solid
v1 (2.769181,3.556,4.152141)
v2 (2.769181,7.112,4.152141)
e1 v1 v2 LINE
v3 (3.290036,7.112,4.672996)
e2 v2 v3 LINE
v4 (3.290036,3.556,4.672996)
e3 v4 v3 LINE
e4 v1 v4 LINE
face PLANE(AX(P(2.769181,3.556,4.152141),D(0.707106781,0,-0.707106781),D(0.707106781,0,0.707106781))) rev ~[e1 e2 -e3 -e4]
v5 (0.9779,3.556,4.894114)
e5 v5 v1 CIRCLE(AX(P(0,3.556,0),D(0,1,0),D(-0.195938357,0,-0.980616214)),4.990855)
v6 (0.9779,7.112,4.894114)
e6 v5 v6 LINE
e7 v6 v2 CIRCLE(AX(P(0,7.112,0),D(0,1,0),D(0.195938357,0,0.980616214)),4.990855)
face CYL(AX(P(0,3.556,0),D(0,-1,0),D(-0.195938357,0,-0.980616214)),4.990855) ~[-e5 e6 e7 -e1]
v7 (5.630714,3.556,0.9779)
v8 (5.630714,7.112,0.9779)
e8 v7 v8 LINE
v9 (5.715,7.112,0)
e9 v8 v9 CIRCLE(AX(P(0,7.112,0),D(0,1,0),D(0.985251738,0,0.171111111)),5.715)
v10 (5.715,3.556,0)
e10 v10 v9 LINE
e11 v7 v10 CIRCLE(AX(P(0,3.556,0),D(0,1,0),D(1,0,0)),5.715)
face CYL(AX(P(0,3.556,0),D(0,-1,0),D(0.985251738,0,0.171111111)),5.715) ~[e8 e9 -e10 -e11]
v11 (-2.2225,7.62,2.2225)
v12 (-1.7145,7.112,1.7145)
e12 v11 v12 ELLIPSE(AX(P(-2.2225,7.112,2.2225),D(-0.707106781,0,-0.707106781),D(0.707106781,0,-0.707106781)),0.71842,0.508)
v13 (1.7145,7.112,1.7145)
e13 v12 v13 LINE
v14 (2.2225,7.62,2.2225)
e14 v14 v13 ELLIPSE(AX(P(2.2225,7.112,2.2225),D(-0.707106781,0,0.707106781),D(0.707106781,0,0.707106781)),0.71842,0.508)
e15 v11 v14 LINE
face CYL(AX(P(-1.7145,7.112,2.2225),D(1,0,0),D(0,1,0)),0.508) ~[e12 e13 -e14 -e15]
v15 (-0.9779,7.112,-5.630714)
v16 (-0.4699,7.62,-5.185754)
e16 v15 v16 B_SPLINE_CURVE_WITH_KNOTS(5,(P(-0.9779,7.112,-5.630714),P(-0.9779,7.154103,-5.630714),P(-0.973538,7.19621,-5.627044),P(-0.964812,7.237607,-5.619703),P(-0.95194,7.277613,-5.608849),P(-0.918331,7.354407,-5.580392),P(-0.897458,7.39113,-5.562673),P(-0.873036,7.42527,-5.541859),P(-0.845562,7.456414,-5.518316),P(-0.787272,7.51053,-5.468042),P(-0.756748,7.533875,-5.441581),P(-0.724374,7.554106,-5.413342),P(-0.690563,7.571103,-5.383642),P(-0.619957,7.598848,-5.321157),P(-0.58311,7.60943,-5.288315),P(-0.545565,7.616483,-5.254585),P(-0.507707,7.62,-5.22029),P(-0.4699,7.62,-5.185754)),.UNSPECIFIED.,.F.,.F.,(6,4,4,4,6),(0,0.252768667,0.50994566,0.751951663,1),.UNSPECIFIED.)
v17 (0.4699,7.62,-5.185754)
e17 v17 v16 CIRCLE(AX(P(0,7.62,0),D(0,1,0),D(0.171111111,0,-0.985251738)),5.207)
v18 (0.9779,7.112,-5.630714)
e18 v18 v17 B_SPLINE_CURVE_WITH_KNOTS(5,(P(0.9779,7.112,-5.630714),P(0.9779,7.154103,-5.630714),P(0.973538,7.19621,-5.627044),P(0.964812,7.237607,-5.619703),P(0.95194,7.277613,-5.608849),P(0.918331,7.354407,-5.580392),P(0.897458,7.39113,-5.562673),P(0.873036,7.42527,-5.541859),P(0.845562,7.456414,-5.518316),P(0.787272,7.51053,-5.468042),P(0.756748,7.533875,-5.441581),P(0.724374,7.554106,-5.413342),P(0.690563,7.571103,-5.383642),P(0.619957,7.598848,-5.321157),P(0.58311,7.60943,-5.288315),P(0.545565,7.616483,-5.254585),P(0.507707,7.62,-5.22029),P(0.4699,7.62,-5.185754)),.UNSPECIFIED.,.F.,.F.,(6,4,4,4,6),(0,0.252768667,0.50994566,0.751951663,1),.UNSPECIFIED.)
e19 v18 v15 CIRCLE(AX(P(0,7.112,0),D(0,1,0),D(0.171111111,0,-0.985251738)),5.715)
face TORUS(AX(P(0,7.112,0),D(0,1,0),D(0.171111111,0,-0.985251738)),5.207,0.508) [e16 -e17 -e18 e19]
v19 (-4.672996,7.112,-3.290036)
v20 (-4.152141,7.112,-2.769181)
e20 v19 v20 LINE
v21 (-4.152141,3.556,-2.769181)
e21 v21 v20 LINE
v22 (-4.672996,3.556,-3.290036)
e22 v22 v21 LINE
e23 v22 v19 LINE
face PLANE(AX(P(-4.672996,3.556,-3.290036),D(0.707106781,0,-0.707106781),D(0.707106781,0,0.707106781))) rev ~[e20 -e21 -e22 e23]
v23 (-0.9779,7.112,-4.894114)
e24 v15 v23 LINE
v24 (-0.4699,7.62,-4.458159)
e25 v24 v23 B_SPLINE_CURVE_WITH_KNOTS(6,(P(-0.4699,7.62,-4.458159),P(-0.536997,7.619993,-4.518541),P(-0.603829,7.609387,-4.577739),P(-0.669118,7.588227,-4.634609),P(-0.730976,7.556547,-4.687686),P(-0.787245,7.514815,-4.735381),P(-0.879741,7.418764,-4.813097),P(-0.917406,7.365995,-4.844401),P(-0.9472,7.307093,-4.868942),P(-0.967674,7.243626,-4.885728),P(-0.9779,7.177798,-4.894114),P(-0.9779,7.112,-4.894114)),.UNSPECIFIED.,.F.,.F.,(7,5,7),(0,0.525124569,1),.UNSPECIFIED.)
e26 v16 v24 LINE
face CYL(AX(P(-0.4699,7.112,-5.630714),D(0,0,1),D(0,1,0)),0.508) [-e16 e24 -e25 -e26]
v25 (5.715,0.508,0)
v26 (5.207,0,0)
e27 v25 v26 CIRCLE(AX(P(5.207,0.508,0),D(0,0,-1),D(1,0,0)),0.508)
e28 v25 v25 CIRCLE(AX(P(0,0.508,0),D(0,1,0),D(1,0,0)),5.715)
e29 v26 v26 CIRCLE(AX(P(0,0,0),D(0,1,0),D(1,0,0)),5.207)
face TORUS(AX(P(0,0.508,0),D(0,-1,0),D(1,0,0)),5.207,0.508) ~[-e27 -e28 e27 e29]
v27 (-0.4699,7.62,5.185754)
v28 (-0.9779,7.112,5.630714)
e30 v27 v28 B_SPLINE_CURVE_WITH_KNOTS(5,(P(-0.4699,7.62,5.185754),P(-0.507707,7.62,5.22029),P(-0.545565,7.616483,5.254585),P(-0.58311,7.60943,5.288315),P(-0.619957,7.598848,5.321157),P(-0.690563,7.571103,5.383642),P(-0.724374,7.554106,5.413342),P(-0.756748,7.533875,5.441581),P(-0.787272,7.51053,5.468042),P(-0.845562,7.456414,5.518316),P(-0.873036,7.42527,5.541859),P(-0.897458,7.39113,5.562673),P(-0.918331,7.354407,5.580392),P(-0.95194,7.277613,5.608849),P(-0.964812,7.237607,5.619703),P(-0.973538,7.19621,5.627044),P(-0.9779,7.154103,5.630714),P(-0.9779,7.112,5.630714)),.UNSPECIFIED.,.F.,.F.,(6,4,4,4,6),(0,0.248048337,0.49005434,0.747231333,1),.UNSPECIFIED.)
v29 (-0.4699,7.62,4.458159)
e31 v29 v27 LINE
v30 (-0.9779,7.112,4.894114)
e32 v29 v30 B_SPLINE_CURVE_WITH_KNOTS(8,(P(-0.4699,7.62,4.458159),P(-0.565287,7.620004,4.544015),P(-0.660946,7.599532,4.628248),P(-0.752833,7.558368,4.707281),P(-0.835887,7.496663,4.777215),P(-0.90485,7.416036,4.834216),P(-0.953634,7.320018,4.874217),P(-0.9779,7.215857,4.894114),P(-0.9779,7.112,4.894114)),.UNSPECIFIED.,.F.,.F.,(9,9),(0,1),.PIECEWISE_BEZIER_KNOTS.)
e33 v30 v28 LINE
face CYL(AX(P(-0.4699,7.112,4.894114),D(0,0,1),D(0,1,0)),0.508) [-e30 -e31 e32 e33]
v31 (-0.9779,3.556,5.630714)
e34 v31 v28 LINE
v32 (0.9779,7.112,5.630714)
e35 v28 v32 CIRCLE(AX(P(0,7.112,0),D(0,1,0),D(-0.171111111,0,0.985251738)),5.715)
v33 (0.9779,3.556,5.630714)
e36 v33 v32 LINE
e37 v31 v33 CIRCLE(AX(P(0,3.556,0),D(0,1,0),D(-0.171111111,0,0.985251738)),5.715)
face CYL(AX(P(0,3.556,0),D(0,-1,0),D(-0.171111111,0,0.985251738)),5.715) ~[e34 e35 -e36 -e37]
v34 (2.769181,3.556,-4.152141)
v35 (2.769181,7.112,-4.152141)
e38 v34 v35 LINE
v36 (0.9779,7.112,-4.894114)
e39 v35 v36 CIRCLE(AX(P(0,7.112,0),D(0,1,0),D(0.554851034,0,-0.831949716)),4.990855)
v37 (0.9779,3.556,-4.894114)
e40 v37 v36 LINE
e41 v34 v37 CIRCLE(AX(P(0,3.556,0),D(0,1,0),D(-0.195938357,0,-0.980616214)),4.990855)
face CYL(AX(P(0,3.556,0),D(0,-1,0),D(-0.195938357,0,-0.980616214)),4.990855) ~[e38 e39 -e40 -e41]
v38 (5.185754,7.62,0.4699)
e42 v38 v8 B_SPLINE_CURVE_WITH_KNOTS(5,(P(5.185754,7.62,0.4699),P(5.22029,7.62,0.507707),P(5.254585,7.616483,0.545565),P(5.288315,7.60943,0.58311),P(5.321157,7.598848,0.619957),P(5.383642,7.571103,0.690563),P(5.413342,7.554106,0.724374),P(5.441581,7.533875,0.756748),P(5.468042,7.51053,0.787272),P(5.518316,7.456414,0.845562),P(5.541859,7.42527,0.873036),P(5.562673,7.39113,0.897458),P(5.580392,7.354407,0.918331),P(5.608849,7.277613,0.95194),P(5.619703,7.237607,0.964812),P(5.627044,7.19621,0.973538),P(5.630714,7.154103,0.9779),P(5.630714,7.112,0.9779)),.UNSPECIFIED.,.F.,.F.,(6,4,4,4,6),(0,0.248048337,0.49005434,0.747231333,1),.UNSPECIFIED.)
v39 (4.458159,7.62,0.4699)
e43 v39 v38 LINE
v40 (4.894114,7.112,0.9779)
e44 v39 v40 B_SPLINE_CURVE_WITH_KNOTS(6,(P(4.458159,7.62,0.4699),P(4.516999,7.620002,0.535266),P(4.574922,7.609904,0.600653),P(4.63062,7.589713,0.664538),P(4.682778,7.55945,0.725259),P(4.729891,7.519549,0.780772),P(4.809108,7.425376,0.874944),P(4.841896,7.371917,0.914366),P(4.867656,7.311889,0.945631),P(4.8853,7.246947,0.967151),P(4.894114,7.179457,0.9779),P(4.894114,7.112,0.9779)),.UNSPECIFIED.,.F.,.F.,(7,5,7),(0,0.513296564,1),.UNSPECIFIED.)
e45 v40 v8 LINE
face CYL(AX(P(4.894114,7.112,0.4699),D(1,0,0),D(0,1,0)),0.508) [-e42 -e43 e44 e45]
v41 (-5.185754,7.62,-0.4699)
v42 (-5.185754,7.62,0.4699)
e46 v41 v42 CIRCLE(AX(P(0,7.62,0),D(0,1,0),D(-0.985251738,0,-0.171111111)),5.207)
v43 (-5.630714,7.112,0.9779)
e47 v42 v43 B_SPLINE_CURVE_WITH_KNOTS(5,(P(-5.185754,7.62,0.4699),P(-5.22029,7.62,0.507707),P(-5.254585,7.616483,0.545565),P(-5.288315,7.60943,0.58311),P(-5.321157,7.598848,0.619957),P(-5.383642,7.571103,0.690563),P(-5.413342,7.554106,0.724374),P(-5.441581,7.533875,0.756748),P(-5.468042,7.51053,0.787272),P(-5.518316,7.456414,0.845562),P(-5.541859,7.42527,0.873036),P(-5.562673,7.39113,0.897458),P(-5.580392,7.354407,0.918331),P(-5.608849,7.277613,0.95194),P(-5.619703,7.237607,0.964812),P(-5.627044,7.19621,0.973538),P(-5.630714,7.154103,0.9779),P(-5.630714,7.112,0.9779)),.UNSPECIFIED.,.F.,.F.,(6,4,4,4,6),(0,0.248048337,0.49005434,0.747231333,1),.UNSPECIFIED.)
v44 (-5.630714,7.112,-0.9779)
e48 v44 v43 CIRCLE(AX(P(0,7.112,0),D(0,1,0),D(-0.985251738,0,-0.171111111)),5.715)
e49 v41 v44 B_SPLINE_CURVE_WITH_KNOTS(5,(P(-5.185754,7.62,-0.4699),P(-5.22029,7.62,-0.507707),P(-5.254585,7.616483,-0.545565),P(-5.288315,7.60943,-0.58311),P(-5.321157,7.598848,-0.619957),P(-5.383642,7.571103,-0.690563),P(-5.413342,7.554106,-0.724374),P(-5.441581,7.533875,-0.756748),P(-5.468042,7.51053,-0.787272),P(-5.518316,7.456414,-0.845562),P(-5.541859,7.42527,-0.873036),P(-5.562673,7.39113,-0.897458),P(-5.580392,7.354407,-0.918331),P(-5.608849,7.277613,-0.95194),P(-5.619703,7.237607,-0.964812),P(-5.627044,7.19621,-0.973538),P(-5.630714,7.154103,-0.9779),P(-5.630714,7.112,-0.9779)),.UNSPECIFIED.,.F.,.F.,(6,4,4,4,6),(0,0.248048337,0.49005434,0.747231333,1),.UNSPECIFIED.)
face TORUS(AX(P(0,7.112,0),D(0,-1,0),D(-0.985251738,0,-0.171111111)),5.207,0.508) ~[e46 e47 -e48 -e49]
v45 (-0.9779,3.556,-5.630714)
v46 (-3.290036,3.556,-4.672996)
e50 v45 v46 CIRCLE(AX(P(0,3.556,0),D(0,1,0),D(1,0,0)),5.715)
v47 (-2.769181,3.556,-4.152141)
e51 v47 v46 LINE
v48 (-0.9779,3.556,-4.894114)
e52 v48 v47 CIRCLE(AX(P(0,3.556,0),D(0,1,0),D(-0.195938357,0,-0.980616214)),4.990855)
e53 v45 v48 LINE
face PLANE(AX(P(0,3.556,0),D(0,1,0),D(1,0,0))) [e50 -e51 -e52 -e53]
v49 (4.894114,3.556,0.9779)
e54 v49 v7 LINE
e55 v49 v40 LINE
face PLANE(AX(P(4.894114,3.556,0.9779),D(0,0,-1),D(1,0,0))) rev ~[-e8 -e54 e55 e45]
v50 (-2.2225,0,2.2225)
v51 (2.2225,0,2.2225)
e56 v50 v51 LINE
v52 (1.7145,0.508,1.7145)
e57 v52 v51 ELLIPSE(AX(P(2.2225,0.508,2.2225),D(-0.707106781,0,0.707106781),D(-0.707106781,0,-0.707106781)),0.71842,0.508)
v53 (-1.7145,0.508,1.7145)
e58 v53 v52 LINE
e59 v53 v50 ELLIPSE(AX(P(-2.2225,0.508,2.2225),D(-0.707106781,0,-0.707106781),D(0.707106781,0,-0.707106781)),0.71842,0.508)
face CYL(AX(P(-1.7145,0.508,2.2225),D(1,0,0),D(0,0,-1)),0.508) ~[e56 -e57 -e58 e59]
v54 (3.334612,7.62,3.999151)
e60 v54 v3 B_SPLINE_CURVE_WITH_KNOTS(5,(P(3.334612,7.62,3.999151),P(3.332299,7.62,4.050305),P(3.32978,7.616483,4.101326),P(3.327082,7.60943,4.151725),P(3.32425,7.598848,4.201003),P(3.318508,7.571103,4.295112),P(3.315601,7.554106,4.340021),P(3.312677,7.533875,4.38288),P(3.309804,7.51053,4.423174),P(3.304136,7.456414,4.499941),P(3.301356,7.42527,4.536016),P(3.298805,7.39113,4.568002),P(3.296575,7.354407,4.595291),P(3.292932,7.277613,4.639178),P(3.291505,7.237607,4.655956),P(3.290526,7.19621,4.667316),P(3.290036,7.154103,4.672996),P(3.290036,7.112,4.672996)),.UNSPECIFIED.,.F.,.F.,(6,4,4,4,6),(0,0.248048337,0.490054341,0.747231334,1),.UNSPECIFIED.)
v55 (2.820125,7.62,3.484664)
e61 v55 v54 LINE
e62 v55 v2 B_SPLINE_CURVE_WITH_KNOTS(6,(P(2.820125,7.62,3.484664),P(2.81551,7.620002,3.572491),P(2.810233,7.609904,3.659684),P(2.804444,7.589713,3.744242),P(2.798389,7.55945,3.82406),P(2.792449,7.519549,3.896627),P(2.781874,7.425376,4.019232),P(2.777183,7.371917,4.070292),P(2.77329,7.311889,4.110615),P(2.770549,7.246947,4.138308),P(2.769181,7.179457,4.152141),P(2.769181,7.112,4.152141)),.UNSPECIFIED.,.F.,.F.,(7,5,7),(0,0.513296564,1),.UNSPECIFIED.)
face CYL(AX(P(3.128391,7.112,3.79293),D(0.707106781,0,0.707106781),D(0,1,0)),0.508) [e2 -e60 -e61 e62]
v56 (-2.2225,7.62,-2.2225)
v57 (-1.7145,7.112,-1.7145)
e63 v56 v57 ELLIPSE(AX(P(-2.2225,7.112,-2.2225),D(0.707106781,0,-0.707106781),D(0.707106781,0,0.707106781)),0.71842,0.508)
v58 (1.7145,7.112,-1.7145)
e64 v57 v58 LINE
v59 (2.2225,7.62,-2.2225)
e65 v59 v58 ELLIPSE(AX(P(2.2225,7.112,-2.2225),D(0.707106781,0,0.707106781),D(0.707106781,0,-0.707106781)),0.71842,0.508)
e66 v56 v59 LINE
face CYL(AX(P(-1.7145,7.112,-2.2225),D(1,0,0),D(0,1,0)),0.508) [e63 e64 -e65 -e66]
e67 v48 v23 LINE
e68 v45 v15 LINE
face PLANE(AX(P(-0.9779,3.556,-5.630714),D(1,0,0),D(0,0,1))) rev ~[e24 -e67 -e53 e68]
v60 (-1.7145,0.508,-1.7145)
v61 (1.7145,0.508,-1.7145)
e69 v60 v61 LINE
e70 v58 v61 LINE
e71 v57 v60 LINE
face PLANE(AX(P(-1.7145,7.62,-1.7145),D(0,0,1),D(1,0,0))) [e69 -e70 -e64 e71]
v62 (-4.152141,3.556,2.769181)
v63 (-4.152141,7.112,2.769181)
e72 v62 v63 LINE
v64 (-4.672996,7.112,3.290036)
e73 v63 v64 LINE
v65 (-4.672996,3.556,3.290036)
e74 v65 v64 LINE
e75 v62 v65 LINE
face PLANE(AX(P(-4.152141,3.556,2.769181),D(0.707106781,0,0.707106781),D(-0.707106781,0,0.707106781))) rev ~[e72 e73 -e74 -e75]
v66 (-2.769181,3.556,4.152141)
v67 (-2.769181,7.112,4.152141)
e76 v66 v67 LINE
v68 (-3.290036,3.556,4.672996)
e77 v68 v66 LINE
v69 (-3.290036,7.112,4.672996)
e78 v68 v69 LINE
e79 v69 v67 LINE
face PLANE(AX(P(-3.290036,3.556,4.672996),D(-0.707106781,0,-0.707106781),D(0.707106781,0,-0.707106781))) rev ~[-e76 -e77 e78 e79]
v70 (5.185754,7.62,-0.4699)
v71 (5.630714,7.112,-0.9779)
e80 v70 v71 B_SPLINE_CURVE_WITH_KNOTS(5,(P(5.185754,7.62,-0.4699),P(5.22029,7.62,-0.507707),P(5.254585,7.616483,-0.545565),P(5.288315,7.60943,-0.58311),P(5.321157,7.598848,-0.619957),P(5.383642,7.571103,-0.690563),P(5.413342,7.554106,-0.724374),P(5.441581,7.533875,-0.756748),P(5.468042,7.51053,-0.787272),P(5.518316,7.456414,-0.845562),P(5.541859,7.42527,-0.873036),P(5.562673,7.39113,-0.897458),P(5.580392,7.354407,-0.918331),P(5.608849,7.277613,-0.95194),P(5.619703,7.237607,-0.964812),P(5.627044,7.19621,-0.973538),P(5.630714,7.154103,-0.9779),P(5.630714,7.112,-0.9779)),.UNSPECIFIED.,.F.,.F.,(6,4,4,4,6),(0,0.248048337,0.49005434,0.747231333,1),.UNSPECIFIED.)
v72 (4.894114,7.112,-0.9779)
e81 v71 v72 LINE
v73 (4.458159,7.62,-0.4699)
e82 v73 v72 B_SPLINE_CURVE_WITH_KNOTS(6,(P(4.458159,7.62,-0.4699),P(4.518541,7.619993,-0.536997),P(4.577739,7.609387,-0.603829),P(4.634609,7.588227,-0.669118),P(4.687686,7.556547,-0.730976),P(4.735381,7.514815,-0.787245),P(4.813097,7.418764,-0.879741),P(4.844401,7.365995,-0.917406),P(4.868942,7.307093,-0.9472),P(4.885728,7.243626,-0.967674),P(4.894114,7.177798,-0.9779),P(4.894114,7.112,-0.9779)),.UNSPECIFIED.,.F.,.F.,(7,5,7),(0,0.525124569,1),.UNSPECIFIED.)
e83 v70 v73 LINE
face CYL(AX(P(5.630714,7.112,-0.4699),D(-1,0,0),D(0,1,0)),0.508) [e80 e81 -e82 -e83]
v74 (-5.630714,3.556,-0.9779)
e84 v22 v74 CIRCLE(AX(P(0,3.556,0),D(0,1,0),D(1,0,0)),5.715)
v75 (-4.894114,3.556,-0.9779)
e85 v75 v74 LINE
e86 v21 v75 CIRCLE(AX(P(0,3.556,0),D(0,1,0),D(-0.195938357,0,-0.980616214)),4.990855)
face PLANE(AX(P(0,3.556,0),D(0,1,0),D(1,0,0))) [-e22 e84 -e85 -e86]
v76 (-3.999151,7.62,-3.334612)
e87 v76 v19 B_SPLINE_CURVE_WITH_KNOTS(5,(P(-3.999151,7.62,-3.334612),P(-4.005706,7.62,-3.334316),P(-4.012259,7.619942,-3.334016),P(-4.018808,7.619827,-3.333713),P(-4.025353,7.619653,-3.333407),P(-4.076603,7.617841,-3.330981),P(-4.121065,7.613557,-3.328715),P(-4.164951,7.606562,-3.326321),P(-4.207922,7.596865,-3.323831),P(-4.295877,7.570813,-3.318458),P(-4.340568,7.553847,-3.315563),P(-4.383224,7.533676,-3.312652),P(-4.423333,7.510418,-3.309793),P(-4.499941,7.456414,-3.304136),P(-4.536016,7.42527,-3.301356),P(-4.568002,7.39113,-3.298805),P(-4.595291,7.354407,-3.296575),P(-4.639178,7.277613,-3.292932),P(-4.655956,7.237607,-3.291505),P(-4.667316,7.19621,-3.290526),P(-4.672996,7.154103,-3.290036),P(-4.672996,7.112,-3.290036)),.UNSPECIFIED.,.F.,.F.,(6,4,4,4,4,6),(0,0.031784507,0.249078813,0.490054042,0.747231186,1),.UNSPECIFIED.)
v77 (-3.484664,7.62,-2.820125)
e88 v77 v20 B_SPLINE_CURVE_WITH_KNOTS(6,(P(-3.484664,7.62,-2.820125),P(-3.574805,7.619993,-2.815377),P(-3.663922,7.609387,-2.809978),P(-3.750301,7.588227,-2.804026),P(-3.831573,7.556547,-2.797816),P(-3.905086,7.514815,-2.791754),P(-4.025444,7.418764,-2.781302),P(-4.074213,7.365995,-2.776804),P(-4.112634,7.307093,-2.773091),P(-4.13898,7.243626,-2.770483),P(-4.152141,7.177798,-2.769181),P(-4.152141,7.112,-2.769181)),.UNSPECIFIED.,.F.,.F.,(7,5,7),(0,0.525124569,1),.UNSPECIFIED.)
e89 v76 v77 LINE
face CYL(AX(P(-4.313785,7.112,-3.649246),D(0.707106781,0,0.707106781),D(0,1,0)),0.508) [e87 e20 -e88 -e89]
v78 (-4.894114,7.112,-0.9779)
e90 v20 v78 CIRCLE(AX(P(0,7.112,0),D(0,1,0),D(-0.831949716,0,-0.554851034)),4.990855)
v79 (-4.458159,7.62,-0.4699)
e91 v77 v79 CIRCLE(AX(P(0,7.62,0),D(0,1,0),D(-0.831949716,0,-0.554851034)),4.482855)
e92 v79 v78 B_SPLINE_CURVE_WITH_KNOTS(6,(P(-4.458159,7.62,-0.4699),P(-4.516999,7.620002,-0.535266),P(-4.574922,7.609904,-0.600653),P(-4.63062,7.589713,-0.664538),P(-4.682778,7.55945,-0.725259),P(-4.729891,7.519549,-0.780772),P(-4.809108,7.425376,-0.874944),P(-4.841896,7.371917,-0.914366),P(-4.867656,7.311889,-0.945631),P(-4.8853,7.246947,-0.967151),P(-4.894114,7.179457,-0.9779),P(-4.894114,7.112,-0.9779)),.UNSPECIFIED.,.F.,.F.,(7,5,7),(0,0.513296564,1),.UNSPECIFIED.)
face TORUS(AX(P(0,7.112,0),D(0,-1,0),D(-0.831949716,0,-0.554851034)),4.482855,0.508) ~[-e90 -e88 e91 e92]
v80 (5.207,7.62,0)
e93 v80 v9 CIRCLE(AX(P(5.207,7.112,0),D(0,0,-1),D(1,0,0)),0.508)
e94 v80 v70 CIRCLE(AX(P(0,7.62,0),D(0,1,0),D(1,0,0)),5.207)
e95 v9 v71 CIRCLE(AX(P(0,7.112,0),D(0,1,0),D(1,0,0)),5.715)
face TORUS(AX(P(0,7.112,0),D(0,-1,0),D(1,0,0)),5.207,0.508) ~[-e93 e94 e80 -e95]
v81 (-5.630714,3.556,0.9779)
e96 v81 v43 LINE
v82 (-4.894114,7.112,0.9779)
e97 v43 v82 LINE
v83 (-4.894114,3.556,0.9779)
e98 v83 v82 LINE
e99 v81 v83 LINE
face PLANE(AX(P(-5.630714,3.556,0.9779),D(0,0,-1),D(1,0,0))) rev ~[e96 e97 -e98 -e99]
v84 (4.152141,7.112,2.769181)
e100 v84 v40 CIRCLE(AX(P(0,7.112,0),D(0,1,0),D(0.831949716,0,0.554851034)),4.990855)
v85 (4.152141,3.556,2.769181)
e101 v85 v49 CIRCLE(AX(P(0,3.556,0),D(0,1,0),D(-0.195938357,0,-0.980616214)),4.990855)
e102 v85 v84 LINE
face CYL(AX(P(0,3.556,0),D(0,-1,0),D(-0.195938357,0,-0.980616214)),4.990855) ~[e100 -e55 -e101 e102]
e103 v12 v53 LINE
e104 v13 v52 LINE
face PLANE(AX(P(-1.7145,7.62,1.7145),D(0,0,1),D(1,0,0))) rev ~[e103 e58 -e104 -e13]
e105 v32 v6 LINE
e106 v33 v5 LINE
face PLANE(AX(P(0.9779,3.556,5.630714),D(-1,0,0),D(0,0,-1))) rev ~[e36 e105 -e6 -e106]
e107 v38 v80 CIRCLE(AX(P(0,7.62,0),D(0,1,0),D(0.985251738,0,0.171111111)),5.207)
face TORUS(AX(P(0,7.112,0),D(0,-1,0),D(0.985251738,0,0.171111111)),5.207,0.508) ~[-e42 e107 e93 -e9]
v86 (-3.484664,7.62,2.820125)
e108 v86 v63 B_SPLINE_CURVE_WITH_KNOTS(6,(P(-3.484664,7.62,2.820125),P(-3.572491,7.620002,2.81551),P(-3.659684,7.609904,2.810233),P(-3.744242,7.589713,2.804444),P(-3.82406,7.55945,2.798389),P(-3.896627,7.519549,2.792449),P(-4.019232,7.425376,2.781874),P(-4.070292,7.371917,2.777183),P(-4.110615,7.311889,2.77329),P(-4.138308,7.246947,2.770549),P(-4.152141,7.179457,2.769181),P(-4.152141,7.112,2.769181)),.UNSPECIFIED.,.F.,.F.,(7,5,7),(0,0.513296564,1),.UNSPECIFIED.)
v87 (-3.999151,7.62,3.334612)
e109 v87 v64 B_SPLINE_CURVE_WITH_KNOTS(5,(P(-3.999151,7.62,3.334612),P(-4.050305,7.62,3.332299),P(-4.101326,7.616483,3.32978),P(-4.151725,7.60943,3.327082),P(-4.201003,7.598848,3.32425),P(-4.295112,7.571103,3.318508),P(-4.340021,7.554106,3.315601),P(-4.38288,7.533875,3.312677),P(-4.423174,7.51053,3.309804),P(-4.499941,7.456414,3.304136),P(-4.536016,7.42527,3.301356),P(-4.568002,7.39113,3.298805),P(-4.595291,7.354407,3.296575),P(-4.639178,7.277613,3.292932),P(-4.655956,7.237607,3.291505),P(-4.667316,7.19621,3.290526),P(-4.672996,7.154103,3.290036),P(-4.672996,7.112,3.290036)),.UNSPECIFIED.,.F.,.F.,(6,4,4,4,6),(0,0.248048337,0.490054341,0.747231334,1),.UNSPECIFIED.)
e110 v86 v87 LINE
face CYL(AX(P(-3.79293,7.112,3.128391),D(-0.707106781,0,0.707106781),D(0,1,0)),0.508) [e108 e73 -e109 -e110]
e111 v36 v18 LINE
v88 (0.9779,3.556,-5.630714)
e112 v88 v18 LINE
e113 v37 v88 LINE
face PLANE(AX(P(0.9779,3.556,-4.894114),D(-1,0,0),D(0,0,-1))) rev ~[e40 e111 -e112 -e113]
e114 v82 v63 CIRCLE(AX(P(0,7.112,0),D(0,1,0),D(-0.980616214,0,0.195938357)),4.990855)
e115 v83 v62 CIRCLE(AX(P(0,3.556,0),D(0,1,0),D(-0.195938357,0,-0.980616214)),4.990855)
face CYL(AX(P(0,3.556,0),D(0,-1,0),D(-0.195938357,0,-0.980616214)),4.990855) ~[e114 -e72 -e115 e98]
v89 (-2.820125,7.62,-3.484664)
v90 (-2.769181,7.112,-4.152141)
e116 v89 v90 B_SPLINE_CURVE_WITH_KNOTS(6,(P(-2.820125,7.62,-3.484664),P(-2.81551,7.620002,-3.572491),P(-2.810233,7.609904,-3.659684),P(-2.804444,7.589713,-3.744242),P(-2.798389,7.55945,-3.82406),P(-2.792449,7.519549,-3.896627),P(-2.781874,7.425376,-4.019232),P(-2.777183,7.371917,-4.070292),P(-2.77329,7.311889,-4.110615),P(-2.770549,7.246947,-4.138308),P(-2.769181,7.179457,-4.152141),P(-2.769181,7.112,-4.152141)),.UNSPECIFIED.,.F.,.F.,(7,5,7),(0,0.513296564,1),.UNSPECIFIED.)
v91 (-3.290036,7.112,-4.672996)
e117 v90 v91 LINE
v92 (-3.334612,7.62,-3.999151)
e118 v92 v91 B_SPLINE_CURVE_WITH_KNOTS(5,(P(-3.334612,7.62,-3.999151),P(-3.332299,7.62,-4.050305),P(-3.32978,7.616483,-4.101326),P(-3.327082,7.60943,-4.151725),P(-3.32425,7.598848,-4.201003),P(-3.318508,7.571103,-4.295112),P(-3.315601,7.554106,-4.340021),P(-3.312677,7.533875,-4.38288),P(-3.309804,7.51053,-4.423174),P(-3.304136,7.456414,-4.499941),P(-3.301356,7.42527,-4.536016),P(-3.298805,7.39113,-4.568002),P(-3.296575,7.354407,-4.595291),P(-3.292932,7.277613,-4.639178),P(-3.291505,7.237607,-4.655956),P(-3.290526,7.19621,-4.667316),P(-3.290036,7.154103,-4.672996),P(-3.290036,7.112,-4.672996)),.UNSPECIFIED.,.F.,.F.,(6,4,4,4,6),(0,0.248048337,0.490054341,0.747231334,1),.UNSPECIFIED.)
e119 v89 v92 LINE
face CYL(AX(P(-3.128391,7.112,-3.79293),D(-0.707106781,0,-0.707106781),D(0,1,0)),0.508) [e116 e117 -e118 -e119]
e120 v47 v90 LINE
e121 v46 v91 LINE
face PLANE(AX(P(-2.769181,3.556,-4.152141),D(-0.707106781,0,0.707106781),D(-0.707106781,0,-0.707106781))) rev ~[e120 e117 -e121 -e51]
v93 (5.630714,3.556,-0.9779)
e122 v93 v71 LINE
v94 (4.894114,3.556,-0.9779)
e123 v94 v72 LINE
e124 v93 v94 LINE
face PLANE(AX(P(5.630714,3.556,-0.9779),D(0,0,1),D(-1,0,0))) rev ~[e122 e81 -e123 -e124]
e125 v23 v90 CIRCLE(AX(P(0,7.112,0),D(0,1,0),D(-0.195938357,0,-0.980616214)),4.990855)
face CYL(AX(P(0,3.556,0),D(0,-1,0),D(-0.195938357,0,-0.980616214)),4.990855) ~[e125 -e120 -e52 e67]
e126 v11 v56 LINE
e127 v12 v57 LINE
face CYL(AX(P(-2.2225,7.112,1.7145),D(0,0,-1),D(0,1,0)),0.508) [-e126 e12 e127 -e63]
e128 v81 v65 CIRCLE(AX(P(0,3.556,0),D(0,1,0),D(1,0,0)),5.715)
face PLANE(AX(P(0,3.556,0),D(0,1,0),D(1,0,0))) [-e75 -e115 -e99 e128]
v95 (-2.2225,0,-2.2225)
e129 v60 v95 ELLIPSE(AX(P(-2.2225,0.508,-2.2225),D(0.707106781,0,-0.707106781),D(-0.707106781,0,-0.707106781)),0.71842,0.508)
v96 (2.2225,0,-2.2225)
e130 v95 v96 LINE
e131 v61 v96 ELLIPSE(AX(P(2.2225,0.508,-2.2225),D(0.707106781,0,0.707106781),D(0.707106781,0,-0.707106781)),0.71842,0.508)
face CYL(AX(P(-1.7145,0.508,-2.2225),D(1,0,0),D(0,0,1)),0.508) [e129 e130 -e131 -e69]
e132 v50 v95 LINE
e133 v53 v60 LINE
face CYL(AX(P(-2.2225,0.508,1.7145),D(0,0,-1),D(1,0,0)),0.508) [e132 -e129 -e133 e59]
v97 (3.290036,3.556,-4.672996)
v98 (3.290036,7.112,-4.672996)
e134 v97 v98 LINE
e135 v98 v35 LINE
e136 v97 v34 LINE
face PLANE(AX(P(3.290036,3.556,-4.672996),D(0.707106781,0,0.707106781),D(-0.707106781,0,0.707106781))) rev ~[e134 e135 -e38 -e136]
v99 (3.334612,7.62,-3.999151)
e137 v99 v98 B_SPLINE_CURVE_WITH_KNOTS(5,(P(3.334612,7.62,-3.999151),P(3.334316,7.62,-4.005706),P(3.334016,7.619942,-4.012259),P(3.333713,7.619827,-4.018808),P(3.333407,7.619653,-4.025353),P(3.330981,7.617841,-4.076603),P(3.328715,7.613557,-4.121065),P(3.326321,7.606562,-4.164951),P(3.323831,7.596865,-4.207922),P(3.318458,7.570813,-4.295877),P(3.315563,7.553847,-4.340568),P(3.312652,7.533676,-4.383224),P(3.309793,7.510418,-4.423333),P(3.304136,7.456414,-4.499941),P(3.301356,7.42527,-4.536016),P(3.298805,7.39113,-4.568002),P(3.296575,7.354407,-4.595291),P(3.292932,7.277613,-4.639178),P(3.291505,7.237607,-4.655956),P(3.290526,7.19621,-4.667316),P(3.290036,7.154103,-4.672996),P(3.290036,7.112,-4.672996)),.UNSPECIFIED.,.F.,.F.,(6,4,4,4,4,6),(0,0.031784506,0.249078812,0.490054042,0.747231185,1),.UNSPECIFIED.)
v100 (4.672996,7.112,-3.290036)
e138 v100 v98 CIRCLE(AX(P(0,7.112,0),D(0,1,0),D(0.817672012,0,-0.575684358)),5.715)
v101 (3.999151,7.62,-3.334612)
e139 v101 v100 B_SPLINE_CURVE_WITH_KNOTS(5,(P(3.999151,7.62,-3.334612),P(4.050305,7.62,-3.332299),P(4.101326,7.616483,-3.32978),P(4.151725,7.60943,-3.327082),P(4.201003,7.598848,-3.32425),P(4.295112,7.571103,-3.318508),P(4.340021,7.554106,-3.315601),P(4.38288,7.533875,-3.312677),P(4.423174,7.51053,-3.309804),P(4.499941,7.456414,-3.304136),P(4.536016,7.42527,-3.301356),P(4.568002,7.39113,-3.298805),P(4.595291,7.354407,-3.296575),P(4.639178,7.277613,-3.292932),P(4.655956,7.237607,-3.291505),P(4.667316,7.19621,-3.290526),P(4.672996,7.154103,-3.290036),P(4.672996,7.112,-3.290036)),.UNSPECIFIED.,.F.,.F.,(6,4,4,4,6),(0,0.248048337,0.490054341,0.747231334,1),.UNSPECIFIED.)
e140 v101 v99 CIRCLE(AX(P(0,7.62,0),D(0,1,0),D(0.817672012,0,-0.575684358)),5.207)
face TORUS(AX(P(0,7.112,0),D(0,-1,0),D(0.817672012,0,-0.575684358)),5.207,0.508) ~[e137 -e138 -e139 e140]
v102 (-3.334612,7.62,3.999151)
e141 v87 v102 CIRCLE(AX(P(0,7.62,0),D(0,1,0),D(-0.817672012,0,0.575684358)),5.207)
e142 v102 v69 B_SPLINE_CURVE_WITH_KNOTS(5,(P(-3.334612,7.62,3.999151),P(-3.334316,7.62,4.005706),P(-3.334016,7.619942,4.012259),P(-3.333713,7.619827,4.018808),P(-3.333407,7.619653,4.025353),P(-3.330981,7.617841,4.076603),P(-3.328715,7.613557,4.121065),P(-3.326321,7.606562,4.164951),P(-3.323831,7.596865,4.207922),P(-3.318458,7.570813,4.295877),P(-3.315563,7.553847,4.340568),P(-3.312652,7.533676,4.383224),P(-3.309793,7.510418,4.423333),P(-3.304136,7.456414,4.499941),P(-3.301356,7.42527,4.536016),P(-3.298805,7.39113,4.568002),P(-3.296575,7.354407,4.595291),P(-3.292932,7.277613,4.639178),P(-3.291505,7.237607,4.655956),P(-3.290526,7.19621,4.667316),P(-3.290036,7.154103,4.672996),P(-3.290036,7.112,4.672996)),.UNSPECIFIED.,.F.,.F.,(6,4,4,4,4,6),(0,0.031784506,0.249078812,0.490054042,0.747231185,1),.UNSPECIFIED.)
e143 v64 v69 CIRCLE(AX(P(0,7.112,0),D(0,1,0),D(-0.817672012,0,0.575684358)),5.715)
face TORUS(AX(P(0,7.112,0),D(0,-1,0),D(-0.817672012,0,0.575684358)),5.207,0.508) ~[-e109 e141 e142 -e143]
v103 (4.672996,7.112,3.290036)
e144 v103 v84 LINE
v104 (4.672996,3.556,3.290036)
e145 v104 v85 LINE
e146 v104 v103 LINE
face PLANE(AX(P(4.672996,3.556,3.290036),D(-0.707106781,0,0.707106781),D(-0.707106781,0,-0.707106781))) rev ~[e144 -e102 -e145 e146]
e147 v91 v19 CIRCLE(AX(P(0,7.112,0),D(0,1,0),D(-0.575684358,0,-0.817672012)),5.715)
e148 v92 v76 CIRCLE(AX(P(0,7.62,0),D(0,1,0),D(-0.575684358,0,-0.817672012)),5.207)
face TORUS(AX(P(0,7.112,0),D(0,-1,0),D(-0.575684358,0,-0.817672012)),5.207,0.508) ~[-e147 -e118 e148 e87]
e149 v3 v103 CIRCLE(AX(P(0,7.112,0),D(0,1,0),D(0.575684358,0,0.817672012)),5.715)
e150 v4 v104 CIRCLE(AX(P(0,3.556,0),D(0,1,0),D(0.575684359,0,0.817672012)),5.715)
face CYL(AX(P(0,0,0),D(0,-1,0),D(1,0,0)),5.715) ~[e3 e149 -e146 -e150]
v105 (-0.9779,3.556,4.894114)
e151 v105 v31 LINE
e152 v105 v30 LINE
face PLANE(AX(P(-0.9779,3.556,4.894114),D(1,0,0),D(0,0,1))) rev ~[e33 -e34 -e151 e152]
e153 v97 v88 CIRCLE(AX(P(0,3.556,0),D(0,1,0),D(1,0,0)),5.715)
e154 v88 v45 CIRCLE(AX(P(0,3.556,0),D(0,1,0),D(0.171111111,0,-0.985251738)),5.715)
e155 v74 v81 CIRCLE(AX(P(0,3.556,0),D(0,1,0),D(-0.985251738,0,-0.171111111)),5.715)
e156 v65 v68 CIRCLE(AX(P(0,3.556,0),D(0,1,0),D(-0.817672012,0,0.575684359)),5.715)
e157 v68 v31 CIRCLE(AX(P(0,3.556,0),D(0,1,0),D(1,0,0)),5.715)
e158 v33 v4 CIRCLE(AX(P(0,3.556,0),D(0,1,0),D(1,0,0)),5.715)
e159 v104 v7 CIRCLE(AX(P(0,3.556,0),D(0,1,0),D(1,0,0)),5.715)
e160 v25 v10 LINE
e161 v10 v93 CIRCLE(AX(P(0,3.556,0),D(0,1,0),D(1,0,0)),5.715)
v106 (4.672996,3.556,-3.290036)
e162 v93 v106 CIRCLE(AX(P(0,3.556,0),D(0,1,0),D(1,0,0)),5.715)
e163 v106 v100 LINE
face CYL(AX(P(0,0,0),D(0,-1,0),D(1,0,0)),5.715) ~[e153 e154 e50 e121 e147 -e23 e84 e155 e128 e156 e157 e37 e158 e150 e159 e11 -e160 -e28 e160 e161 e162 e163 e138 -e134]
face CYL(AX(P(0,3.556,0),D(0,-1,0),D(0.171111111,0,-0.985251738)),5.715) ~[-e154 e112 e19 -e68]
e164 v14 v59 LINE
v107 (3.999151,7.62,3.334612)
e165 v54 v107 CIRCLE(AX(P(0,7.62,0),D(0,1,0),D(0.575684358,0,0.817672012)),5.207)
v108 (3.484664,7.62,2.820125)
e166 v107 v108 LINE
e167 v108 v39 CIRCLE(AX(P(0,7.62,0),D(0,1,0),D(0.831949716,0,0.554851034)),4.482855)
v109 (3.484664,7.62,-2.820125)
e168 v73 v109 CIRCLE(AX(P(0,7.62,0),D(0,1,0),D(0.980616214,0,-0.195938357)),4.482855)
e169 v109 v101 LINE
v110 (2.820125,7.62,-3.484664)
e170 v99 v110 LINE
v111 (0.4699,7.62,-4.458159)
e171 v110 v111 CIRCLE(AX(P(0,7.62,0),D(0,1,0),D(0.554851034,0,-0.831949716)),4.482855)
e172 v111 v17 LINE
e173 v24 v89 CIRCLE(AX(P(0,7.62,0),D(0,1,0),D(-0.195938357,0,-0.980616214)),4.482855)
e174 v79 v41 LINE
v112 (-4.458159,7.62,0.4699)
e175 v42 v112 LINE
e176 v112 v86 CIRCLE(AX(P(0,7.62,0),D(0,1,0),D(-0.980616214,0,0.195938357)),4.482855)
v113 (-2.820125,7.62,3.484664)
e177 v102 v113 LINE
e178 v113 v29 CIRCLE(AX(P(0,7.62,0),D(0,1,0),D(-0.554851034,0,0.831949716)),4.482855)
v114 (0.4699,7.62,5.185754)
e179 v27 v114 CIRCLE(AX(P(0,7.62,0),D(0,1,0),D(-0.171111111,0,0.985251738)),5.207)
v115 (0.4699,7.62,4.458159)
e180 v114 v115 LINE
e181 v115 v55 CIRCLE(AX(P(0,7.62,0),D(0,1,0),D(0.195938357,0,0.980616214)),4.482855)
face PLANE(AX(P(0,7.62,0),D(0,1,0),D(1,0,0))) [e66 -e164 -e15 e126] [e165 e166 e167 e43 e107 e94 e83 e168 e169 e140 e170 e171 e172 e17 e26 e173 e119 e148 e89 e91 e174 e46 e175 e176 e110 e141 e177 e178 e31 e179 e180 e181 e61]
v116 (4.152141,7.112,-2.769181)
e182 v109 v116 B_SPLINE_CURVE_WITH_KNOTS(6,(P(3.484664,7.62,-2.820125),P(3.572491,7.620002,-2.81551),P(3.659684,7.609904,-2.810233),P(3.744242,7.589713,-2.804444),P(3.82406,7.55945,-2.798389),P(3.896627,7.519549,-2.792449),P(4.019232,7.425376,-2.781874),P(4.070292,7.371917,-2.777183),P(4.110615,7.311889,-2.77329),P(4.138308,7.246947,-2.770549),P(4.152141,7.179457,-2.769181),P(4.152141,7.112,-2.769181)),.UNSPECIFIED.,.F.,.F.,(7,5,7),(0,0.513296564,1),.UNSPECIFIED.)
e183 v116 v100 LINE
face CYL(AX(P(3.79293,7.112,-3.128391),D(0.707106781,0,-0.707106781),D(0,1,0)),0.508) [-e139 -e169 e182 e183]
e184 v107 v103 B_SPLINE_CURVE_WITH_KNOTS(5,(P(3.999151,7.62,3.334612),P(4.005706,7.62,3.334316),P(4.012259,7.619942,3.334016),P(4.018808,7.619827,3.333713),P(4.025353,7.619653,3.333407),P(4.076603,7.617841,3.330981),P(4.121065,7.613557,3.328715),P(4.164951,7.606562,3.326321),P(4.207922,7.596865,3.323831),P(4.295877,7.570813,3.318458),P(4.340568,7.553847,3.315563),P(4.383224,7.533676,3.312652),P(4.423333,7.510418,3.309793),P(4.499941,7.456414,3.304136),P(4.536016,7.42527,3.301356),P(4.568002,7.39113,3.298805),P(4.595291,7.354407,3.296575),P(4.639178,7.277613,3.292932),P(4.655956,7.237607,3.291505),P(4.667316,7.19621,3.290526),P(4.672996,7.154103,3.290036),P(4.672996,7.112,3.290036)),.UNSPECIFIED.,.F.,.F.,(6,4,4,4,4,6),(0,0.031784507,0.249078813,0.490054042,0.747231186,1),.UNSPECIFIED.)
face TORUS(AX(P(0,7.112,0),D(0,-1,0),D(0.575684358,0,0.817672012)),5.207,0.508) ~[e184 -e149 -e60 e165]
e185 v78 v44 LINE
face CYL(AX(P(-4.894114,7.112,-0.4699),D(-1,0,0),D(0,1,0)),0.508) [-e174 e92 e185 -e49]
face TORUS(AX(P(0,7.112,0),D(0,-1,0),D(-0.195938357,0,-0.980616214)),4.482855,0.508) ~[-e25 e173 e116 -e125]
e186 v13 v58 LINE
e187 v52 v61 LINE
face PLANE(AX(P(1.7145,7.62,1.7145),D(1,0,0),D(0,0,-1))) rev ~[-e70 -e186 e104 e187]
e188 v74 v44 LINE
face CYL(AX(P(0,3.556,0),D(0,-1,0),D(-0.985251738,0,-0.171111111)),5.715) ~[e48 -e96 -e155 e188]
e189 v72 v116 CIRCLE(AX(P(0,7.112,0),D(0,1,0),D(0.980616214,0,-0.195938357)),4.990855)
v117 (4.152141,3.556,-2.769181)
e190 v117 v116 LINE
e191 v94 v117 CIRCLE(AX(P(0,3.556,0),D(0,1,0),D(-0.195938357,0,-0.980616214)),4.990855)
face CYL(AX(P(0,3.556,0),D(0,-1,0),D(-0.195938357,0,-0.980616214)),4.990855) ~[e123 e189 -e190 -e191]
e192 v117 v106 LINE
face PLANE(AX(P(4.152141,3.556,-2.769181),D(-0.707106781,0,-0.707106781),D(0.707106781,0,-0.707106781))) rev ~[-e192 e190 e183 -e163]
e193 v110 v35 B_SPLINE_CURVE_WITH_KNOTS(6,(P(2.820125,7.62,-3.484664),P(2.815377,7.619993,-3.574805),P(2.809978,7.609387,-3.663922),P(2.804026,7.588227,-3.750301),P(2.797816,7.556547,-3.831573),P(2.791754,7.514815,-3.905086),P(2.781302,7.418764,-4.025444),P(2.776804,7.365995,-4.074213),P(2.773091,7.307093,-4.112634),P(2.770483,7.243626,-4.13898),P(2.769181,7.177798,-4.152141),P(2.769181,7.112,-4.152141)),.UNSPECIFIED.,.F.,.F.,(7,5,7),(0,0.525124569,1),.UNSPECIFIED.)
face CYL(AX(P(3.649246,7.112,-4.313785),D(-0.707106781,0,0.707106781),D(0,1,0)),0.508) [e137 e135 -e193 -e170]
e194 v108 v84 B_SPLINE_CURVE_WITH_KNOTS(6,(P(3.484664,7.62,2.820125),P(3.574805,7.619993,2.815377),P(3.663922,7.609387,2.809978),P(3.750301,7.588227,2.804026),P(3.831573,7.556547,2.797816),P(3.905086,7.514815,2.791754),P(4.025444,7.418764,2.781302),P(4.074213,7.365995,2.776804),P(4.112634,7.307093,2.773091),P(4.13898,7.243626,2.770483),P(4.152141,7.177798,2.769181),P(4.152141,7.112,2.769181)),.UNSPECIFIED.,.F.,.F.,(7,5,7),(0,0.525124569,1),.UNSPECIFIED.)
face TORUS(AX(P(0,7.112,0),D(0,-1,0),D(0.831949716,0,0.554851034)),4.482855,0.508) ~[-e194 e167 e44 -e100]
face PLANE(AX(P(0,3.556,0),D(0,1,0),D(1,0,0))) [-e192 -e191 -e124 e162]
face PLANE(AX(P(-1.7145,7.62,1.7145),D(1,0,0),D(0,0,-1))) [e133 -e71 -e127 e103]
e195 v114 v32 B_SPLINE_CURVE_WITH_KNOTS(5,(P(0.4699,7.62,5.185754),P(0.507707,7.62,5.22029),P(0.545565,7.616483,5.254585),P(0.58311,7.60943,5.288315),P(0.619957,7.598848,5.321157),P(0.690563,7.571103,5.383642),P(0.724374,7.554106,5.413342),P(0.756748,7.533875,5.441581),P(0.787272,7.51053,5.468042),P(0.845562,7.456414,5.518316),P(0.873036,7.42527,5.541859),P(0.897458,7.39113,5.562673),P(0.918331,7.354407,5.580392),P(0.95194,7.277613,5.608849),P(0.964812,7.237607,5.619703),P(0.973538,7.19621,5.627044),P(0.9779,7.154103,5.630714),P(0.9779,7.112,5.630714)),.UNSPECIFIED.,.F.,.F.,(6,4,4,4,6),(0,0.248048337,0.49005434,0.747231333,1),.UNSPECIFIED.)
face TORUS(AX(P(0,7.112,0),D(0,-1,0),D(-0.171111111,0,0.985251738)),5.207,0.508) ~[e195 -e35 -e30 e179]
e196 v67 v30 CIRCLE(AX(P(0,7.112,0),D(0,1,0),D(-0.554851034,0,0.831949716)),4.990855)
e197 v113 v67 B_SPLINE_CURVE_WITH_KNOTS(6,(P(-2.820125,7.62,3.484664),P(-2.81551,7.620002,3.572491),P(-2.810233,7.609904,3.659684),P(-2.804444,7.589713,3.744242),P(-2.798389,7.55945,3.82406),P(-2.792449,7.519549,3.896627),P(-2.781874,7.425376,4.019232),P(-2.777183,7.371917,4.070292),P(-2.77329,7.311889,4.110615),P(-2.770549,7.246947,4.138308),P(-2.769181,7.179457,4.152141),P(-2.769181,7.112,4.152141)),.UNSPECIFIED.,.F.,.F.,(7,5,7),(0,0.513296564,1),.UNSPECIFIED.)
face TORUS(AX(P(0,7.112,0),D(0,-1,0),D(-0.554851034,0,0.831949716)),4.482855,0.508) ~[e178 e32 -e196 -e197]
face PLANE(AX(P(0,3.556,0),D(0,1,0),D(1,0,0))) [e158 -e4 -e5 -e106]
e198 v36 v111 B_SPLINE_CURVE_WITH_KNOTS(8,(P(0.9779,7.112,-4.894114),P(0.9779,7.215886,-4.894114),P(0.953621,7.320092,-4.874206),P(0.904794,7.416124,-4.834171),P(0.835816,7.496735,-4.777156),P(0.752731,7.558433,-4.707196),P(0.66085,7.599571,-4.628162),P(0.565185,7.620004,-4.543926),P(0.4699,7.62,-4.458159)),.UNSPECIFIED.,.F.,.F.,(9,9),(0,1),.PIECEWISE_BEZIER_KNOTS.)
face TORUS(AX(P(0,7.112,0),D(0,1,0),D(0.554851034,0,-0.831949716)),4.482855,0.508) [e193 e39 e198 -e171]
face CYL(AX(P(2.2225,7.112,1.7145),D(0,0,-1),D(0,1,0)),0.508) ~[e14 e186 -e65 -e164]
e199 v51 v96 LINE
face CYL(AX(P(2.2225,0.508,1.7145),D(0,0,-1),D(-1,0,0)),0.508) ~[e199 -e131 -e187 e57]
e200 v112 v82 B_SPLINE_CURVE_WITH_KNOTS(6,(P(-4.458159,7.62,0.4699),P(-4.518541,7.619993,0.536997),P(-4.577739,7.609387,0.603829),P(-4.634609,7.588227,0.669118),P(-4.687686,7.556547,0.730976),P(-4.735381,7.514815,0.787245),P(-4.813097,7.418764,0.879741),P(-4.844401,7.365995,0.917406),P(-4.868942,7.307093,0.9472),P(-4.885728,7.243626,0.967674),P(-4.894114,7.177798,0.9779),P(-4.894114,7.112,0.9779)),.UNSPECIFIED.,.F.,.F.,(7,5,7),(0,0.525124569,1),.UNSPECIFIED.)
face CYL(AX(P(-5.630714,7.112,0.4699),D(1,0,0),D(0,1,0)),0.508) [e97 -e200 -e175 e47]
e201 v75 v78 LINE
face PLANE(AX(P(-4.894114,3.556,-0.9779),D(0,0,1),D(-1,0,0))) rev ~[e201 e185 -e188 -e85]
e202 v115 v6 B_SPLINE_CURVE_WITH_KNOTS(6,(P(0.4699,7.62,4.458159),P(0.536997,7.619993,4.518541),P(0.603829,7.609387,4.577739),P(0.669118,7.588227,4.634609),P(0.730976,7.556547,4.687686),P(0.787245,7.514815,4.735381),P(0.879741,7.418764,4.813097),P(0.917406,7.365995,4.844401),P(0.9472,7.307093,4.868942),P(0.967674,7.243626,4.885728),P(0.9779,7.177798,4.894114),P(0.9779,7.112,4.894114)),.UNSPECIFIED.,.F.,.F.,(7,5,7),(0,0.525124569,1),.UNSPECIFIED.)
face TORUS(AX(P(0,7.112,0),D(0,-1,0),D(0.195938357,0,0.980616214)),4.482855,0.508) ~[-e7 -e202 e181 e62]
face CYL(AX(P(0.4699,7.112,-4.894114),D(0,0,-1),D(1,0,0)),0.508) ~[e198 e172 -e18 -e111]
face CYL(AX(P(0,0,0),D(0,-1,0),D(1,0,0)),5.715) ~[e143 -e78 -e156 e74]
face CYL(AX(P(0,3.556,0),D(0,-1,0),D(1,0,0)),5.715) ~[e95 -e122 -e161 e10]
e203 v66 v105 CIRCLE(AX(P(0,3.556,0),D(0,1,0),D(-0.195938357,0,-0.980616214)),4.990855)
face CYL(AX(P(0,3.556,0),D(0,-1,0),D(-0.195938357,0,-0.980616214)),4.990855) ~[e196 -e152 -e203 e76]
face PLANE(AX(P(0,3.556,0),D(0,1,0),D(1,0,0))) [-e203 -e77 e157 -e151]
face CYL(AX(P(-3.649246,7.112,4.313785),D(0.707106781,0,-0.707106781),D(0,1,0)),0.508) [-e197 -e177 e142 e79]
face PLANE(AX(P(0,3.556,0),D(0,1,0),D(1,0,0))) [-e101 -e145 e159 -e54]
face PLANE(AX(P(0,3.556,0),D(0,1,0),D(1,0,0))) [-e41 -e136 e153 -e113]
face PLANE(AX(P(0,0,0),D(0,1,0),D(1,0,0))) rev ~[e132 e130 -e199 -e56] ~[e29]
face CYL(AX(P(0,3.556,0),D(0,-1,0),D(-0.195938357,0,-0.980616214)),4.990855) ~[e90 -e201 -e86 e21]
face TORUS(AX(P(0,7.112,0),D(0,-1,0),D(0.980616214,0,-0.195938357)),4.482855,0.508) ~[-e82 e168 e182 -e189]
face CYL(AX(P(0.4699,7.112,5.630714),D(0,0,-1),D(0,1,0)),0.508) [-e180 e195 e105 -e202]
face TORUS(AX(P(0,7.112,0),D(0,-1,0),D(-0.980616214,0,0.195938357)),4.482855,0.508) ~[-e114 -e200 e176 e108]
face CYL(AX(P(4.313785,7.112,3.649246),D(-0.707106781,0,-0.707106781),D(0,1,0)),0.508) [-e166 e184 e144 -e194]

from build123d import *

# Parameters (mm, degrees)
SKETCH1_R               = 5.715
BOSS_EXTRUDE2_DEPTH     = 3.556
SKETCH2_R               = 4.990855354
BOSS_EXTRUDE3_DEPTH     = 4.064
SKETCH3_W               = 3.429
SKETCH3_H               = 3.429
CUT_EXTRUDE1_DEPTH      = 1
CUT_EXTRUDE1_DEPTH_BACK = 8.62
FILLET1_R               = 0.508


with BuildPart() as part:
    # Sketch1 → Boss-Extrude2 (new body)
    with BuildSketch(Plane(origin=(0, 0, 0), x_dir=(1, 0, 0), z_dir=(0, 1, 0))):
        Circle(SKETCH1_R)
    extrude(amount=BOSS_EXTRUDE2_DEPTH)

    # Sketch2 → Boss-Extrude3 (add)
    with BuildSketch(Plane(origin=(0, 3.556, 0), x_dir=(1, 0, 0), z_dir=(0, 1, 0))):
        Circle(SKETCH2_R)
        with BuildLine():
            ThreePointArc((0.9779, 5.630713684), (0, 5.715), (-0.9779, 5.630713684))
            Line((-0.9779, 5.630713684), (-0.9779, 4.894113684))
            ThreePointArc((-0.9779, 4.894113684), (0, 4.990855354), (0.9779, 4.894113684))
            Line((0.9779, 4.894113684), (0.9779, 5.630713684))
        make_face()
        with BuildLine():
            Line((-2.769181252, 4.152140695), (-3.290036107, 4.67299555))
            ThreePointArc((-3.290036107, 4.67299555), (-4.041115254, 4.041115254), (-4.67299555, 3.290036107))
            Line((-4.67299555, 3.290036107), (-4.152140695, 2.769181252))
            ThreePointArc((-4.152140695, 2.769181252), (-3.529067664, 3.529067664), (-2.769181252, 4.152140695))
        make_face()
        with BuildLine():
            Line((-4.894113684, 0.9779), (-5.630713684, 0.9779))
            ThreePointArc((-5.630713684, 0.9779), (-5.715, 0), (-5.630713684, -0.9779))
            Line((-5.630713684, -0.9779), (-4.894113684, -0.9779))
            ThreePointArc((-4.894113684, -0.9779), (-4.990855354, 0), (-4.894113684, 0.9779))
        make_face()
        with BuildLine():
            Line((-4.152140695, -2.769181252), (-4.67299555, -3.290036107))
            ThreePointArc((-4.67299555, -3.290036107), (-4.041115254, -4.041115254), (-3.290036107, -4.67299555))
            Line((-3.290036107, -4.67299555), (-2.769181252, -4.152140695))
            ThreePointArc((-2.769181252, -4.152140695), (-3.529067664, -3.529067664), (-4.152140695, -2.769181252))
        make_face()
        with BuildLine():
            Line((-0.9779, -4.894113684), (-0.9779, -5.630713684))
            ThreePointArc((-0.9779, -5.630713684), (0, -5.715), (0.9779, -5.630713684))
            Line((0.9779, -5.630713684), (0.9779, -4.894113684))
            ThreePointArc((0.9779, -4.894113684), (0, -4.990855354), (-0.9779, -4.894113684))
        make_face()
        with BuildLine():
            ThreePointArc((3.290036107, -4.67299555), (4.041115254, -4.041115254), (4.67299555, -3.290036107))
            Line((4.67299555, -3.290036107), (4.152140695, -2.769181252))
            ThreePointArc((4.152140695, -2.769181252), (3.529067664, -3.529067664), (2.769181252, -4.152140695))
            Line((2.769181252, -4.152140695), (3.290036107, -4.67299555))
        make_face()
        with BuildLine():
            ThreePointArc((5.715, 0), (5.693889431, 0.490762823), (5.630713684, 0.9779))
            Line((5.630713684, 0.9779), (4.894113684, 0.9779))
            ThreePointArc((4.894113684, 0.9779), (4.96661105, 0.491336789), (4.990855354, 0))
            ThreePointArc((4.990855354, 0), (4.96661105, -0.491336789), (4.894113684, -0.9779))
            Line((4.894113684, -0.9779), (5.630713684, -0.9779))
            ThreePointArc((5.630713684, -0.9779), (5.693889431, -0.490762823), (5.715, 0))
        make_face()
        with BuildLine():
            ThreePointArc((4.67299555, 3.290036107), (4.041115254, 4.041115254), (3.290036107, 4.67299555))
            Line((3.290036107, 4.67299555), (2.769181252, 4.152140695))
            ThreePointArc((2.769181252, 4.152140695), (3.529067664, 3.529067664), (4.152140695, 2.769181252))
            Line((4.152140695, 2.769181252), (4.67299555, 3.290036107))
        make_face()
    extrude(amount=BOSS_EXTRUDE3_DEPTH)

    # Sketch3 → Cut-Extrude1 (cut, two sides)
    with BuildSketch(Plane(origin=(0, 7.62, 0), x_dir=(1, 0, 0), z_dir=(0, 1, 0))) as cut_extrude1_sk:
        Rectangle(SKETCH3_W, SKETCH3_H)
    extrude(amount=CUT_EXTRUDE1_DEPTH, mode=Mode.SUBTRACT)
    extrude(cut_extrude1_sk.sketch, amount=-CUT_EXTRUDE1_DEPTH_BACK, mode=Mode.SUBTRACT)

    # Fillet1
    fillet1_edges = [part.edges().sort_by_distance(p)[0] for p in [
        (0, 7.62, -1.7145),
        (-1.7145, 7.62, 0),
        (0, 7.62, 1.7145),
        (1.7145, 7.62, 0),
        (1.7145, 0, 0),
        (0, 0, 1.7145),
        (-1.7145, 0, 0),
        (0, 0, -1.7145),
        (-5.715, 0, 0),
        (-0.9779, 7.62, 5.262413684),
        (0.9779, 7.62, 5.262413684),
        (1.909917657, 7.62, 4.610949111),
        (4.041115254, 7.62, 4.041115254),
        (4.412568123, 7.62, 3.02960868),
        (4.610949111, 7.62, 1.909917657),
        (5.715, 7.62, 0),
        (5.262413684, 7.62, -0.9779),
        (4.610949111, 7.62, -1.909917657),
        (4.041115254, 7.62, -4.041115254),
        (3.02960868, 7.62, -4.412568123),
        (1.909917657, 7.62, -4.610949111),
        (0, 7.62, -5.715),
        (-0.9779, 7.62, -5.262413684),
        (-1.909917657, 7.62, -4.610949111),
        (-4.041115254, 7.62, -4.041115254),
        (-4.412568123, 7.62, -3.02960868),
        (-4.610949111, 7.62, -1.909917657),
        (-5.715, 7.62, 0),
        (-5.262413684, 7.62, 0.9779),
        (-4.610949111, 7.62, 1.909917657),
        (-4.041115254, 7.62, 4.041115254),
        (-3.02960868, 7.62, 4.412568123),
        (-1.909917657, 7.62, 4.610949111),
        (0, 7.62, 5.715),
        (3.02960868, 7.62, 4.412568123),
        (5.262413684, 7.62, 0.9779),
        (4.412568123, 7.62, -3.02960868),
        (0.9779, 7.62, -5.262413684),
        (-3.02960868, 7.62, -4.412568123),
        (-5.262413684, 7.62, -0.9779),
        (-4.412568123, 7.62, 3.02960868),
    ]]
    fillet(fillet1_edges, radius=FILLET1_R)


solid = part.part
